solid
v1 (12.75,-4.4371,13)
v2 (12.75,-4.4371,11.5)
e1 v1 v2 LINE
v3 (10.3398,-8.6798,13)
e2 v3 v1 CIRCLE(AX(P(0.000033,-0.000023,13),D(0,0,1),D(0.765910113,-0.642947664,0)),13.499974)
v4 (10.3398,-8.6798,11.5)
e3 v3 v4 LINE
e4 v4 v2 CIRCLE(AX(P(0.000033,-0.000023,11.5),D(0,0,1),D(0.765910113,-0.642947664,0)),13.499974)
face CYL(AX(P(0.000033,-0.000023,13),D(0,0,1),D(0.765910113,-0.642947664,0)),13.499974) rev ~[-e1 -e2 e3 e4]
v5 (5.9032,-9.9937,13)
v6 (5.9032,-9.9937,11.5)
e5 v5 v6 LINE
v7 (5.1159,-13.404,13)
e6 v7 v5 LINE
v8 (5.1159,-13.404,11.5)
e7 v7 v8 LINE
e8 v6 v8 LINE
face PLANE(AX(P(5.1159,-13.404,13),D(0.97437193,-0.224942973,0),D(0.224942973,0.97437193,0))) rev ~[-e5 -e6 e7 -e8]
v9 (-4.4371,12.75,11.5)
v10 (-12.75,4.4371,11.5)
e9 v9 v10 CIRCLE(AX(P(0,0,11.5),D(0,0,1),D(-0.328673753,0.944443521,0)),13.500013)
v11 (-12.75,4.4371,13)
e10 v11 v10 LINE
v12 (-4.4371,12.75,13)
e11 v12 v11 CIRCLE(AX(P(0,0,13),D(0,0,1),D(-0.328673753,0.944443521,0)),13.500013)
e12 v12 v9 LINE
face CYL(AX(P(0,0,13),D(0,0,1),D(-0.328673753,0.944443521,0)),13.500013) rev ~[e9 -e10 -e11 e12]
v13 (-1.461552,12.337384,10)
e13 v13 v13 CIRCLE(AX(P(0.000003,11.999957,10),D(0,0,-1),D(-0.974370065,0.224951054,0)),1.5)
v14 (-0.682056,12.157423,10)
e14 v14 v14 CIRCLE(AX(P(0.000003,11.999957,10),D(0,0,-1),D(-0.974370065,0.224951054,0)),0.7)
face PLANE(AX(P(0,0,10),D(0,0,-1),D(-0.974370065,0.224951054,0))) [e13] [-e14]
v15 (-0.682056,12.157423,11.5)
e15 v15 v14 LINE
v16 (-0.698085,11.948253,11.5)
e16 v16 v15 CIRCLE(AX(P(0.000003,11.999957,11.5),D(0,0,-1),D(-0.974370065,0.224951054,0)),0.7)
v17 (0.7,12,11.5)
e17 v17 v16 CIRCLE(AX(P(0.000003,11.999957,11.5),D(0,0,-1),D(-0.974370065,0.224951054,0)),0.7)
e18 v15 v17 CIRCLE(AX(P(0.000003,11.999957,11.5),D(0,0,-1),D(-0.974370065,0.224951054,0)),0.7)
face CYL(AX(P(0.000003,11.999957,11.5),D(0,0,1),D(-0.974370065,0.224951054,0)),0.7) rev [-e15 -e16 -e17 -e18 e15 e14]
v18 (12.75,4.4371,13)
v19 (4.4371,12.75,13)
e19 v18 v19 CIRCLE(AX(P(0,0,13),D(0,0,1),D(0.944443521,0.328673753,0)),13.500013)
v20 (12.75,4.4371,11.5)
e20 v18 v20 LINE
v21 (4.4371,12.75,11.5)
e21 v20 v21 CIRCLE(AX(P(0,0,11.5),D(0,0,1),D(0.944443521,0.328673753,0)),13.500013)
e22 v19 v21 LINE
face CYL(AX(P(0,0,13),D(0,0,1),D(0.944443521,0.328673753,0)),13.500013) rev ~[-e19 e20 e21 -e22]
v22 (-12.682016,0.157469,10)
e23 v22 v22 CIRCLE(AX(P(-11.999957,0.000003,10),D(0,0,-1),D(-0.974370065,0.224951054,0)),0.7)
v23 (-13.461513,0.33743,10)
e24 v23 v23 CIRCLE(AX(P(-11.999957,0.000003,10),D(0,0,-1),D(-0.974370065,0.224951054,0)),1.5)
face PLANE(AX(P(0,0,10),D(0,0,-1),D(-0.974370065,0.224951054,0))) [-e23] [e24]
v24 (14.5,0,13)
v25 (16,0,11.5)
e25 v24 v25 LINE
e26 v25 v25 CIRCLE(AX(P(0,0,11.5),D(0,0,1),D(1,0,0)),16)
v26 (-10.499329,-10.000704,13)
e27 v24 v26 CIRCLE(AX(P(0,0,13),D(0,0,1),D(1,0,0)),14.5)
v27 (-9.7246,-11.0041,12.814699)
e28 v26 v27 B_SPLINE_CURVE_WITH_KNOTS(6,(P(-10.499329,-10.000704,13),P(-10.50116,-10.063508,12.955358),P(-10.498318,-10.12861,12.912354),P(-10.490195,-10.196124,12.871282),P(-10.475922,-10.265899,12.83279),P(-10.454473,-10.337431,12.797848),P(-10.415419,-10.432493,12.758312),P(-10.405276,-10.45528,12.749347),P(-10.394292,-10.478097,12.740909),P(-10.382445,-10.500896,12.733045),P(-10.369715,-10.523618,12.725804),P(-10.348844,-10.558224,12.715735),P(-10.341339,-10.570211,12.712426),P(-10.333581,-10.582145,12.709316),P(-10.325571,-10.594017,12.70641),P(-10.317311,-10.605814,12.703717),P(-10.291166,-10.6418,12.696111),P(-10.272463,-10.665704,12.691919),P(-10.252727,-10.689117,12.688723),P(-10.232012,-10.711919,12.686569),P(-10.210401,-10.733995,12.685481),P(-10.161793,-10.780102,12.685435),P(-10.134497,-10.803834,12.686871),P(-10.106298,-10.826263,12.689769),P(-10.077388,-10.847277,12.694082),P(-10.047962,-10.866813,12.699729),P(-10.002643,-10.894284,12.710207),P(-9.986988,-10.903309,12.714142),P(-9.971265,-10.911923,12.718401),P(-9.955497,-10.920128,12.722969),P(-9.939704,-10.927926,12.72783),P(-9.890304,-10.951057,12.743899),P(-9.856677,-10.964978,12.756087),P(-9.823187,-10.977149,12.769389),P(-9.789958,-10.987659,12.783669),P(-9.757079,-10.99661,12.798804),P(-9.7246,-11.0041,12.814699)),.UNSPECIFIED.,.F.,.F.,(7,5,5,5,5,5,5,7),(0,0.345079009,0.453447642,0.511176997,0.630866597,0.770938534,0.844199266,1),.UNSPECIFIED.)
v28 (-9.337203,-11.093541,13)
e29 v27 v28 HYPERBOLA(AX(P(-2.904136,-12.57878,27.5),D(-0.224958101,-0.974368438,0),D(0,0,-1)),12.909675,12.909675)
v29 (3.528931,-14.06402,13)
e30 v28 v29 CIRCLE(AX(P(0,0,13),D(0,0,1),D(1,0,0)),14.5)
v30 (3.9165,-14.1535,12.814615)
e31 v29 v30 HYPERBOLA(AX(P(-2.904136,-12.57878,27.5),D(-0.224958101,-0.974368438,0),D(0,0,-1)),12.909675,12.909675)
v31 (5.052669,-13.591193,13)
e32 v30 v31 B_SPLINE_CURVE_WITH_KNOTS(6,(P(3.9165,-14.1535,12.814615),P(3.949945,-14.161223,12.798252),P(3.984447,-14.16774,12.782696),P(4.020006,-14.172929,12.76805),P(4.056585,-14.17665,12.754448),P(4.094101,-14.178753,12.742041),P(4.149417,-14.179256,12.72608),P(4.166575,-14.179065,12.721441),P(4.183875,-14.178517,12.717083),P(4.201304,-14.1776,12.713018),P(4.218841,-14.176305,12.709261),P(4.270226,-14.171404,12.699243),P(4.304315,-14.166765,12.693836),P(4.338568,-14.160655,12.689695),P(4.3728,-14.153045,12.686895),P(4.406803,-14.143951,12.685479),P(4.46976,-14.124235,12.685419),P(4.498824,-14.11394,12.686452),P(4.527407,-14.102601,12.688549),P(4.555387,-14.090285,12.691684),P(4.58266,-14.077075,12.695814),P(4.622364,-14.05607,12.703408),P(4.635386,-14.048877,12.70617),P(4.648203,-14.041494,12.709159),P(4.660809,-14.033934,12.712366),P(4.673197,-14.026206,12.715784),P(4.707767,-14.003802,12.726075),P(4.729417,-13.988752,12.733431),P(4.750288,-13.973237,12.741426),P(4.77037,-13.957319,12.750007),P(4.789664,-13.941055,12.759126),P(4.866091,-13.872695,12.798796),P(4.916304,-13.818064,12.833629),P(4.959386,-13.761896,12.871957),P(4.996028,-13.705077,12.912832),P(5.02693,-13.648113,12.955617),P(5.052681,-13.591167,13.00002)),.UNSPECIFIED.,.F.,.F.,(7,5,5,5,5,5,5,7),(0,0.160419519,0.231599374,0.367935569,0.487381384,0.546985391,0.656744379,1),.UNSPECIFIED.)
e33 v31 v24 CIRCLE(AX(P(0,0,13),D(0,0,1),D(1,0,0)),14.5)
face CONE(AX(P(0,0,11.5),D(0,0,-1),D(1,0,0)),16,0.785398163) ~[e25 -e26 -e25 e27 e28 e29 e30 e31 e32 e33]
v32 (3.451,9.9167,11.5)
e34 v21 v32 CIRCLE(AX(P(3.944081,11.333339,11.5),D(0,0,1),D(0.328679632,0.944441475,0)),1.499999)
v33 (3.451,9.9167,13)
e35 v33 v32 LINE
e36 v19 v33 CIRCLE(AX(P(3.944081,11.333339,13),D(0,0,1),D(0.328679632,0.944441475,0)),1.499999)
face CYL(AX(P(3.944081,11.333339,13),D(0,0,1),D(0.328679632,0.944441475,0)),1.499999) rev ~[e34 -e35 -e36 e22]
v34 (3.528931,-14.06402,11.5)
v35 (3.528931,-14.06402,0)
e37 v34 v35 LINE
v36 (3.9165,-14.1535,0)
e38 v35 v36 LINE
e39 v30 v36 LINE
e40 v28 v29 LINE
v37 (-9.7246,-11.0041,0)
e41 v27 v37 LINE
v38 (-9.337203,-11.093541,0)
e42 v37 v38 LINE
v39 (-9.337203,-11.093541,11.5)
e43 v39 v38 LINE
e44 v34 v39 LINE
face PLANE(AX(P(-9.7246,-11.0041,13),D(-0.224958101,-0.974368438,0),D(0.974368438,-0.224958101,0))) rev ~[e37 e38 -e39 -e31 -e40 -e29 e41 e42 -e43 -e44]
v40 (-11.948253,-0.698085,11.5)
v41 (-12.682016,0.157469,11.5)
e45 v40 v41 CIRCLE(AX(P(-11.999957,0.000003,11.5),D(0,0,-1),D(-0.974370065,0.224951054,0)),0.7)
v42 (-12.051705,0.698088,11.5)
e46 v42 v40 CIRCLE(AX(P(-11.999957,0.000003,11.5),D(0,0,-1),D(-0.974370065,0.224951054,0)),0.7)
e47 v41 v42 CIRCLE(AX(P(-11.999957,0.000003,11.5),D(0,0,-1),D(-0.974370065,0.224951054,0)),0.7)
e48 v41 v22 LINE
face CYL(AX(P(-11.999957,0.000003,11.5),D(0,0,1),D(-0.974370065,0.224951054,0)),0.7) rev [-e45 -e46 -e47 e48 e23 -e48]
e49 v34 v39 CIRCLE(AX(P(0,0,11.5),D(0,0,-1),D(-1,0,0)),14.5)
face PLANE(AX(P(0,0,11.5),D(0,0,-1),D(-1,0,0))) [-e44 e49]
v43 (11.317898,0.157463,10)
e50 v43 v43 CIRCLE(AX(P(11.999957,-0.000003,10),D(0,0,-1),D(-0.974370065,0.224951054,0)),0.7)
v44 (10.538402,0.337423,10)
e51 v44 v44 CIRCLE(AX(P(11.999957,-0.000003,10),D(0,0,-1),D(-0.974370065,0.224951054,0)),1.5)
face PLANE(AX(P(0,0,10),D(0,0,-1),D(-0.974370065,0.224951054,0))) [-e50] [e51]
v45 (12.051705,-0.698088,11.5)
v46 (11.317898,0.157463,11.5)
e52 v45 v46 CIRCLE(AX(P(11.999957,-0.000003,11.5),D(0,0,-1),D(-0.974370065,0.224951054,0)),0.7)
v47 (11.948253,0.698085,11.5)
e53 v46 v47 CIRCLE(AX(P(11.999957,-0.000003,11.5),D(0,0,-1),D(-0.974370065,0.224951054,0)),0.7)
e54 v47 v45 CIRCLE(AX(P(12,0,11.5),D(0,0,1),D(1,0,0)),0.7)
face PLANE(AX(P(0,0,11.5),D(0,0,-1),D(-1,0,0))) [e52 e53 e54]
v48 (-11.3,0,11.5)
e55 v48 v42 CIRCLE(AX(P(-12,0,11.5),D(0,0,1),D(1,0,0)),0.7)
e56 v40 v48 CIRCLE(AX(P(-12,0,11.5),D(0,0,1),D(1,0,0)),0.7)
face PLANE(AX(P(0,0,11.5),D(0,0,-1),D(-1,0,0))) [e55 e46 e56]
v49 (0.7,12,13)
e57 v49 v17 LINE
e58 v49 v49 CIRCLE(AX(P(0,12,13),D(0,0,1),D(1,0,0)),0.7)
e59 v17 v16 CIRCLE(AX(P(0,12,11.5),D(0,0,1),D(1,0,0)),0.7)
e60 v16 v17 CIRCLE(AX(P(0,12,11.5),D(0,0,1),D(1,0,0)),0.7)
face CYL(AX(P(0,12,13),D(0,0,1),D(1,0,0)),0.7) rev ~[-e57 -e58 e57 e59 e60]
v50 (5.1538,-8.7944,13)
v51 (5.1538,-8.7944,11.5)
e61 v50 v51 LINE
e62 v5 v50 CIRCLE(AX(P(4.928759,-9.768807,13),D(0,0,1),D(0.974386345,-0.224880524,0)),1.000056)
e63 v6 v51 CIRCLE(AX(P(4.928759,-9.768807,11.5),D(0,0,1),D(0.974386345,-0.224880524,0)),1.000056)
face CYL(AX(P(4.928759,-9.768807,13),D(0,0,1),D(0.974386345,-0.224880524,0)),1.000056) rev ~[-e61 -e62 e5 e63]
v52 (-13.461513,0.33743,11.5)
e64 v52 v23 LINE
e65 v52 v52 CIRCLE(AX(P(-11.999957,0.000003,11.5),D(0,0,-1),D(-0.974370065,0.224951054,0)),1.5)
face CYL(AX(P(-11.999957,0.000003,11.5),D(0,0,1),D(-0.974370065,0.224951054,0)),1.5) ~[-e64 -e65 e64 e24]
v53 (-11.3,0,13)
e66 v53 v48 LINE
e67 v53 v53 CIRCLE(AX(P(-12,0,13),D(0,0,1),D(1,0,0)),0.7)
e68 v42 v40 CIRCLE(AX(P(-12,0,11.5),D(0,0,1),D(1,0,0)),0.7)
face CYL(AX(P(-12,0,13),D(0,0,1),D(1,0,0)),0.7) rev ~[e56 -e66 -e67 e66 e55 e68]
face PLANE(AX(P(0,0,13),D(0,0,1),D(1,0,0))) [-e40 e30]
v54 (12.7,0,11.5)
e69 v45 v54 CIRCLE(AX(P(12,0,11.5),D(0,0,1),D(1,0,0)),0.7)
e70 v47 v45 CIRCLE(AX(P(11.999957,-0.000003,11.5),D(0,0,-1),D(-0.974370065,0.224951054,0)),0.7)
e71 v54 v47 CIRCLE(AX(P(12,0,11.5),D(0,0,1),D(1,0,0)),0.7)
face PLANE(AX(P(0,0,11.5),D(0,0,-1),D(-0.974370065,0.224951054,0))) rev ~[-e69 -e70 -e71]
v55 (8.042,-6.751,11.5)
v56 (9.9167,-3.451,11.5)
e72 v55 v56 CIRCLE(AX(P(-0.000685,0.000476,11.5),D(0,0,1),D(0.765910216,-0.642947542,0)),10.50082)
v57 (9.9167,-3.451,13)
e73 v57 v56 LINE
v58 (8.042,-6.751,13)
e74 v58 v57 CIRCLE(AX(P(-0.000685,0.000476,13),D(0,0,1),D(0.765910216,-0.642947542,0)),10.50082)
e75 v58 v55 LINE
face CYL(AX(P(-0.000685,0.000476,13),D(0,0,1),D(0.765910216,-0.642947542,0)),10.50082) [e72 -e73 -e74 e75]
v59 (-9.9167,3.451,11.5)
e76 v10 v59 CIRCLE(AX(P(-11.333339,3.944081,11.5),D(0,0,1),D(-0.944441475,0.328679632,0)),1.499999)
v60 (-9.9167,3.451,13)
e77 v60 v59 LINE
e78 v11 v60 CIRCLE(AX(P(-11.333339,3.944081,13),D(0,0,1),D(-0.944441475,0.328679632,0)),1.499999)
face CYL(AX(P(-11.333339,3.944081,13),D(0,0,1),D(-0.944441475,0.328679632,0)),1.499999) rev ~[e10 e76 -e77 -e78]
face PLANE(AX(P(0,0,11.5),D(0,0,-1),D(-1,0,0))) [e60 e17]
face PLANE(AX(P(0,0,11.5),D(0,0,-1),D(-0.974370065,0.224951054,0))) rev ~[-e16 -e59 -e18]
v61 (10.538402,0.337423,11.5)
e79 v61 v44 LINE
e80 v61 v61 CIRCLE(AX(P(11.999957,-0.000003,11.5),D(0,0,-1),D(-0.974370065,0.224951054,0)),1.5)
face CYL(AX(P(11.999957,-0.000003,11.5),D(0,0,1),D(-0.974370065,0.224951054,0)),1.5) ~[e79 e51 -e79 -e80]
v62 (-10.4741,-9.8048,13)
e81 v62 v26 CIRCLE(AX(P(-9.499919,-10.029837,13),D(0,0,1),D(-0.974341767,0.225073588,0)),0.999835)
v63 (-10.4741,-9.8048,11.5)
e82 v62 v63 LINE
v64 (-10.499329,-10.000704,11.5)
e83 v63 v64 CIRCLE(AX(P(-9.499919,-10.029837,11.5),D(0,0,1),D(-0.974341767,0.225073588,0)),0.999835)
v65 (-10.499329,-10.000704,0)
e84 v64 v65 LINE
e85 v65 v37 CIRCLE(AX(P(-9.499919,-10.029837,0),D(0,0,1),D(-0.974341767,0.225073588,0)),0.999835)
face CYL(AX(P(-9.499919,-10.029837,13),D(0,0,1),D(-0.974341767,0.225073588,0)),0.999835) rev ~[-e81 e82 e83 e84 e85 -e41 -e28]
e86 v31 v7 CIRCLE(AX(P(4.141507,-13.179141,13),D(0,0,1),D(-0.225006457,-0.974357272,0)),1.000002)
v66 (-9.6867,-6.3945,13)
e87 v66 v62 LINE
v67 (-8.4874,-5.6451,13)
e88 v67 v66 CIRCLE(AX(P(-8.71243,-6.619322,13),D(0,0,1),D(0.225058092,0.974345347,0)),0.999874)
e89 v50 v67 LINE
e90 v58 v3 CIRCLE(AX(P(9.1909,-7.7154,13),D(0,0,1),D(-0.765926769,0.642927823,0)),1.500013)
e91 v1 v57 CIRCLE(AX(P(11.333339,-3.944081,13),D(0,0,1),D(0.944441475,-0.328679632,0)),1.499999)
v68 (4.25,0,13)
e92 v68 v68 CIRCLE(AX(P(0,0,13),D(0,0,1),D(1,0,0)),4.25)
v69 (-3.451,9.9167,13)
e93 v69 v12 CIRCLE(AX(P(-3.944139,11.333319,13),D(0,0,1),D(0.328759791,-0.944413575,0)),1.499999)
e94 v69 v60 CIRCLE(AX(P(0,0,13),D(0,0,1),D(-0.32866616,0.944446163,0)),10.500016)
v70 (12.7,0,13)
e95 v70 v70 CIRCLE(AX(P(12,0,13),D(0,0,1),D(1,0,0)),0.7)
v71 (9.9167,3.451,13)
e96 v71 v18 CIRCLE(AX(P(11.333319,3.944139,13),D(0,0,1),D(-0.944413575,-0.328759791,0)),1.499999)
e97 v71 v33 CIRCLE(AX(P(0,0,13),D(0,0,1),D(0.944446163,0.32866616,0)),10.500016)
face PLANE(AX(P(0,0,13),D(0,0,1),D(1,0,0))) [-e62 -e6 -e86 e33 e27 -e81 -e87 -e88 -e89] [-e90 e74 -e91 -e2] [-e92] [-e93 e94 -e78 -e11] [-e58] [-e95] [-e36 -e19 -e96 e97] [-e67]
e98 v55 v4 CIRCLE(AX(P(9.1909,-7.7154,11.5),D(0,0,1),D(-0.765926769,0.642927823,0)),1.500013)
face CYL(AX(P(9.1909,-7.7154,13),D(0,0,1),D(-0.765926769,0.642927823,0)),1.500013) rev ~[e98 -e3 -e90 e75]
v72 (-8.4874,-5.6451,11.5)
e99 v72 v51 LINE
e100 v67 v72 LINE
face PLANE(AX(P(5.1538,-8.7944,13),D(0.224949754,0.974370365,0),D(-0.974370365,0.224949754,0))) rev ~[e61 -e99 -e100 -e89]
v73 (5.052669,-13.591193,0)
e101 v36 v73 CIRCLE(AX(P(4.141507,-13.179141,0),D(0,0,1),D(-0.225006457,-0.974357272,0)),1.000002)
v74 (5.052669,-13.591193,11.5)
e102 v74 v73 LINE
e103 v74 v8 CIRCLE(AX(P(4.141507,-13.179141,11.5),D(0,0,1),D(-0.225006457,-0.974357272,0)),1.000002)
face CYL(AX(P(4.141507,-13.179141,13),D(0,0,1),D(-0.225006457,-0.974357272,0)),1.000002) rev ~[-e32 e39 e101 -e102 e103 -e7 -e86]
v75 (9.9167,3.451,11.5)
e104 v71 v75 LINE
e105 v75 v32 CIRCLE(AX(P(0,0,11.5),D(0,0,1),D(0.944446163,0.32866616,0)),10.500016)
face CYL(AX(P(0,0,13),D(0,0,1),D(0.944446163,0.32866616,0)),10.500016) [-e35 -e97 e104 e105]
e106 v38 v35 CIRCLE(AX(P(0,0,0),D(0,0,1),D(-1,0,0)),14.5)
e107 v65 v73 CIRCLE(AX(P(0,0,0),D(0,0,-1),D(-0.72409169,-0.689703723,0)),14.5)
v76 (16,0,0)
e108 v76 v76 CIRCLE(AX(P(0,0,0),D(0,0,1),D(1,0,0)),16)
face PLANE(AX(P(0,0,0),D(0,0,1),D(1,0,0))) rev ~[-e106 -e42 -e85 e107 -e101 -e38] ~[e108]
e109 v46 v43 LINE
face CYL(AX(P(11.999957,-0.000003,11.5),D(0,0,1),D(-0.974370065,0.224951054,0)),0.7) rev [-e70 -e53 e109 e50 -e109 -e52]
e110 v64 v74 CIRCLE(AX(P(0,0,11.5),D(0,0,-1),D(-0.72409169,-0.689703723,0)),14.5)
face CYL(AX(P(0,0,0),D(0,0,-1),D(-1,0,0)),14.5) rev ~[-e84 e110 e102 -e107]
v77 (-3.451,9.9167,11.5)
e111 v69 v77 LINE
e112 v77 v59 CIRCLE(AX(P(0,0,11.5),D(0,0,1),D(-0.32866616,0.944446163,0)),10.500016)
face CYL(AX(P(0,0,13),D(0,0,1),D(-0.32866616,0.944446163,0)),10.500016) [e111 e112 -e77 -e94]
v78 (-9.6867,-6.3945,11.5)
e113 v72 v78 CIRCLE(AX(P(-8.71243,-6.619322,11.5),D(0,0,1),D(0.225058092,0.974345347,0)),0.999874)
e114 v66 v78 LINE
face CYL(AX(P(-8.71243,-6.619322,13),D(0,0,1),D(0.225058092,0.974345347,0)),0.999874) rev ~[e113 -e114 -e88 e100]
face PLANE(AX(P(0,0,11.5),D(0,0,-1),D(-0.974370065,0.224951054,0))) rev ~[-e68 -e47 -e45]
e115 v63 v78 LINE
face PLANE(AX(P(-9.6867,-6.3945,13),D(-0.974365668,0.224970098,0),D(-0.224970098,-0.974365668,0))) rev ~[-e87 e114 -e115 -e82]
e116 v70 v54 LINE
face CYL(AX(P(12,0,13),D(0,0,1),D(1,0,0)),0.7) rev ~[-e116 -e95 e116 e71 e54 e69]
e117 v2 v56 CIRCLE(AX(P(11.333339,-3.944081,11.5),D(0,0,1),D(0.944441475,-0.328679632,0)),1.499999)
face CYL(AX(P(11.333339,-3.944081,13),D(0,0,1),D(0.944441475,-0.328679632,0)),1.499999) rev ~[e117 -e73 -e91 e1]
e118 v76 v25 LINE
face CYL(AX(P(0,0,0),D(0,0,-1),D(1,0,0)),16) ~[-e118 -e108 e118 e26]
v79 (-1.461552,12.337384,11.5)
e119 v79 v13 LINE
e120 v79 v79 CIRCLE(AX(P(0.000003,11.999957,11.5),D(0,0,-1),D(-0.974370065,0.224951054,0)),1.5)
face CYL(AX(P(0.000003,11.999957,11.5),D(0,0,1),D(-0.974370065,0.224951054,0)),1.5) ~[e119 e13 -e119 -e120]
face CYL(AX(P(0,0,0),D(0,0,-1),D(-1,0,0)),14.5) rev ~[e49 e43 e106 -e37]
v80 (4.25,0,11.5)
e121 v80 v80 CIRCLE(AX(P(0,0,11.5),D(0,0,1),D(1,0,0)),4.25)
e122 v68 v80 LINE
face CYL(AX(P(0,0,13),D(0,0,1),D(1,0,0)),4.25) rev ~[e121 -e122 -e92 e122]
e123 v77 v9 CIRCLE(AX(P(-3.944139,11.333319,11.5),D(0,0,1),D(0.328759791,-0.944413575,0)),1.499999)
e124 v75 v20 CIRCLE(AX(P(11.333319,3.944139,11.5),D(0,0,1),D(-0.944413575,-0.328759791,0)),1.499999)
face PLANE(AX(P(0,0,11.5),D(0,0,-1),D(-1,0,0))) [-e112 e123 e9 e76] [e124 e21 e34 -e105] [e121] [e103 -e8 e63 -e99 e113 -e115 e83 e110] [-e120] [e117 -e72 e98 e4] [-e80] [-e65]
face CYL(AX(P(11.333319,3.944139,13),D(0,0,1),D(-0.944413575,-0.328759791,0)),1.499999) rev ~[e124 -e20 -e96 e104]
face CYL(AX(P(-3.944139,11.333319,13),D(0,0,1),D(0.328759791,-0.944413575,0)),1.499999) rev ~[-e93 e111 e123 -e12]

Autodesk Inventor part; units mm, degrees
ref_plane "YZ Plane" through (0, 0, 0) normal (1, 0, 0) x (0, 1, 0)
ref_plane "XZ Plane" through (0, 0, 0) normal (0, 1, 0) x (-1, 0, 0)
sketch "Sketch1" plane through (0, 0, 0) normal (0, 0, 1) x (1, 0, 0)
  circle A0 centre (0, 0) radius 16
  dimension "d0" = 32
extrude "Extrusion1" add sketch "Sketch1" along normal blind 13
sketch "Sketch2" plane through (0, 0, 0) normal (0, 0, -1) x (-1, 0, 0)
  circle A0 centre (0, 0) radius 16 projected
  circle A1 centre (0, 0) radius 14.5
  dimension "d3" = 1.5
  dimension "d11" = 29
ref_plane "Work Plane1" through (0, 0, 11.5) normal (0, 0, 1) x (1, 0, 0)
extrude "Extrusion2" cut sketch "Sketch2" against normal up to surface (11.5 mm away) contours A1
sketch "Sketch3" plane through (0, 0, 13) normal (0, 0, 1) x (1, 0, 0)
  circle A0 centre (0, 0) radius 4.25
  dimension "d7" = 8.5
extrude "Extrusion3" cut sketch "Sketch3" against normal through all
sketch "Sketch4" plane through (0, 0, 13) normal (0, 0, 1) x (1, 0, 0)
  circle A0 centre (0, 0) radius 4.25 construction
  circle A1 centre (0, 0) radius 16 construction
  line L0 (0, 0) -> (0, 16) construction
  circle A2 centre (0, 0) radius 16 projected
  line L1 (0, 0) -> (-16, 0) construction
  circle A3 centre (-12, 0) radius 0.7
  circle A4 centre (0, 12) radius 0.7
  circle A5 centre (12, 0) radius 0.7
  dimension "d10" = 12
  dimension "d12" = 12
  dimension "d13" = 1.4
extrude "Extrusion4" cut sketch "Sketch4" against normal through all contours A3 | A4 | A5
sketch "Sketch5" plane through (0, 0, 13) normal (0, 0, 1) x (1, 0, 0)
  circle A0 centre (0, 0) radius 14.5 projected
  line L0 (-10.0993, -10.4045) -> (4.5162, -13.7787)
  line L1 (0, 0) -> (-2.7916, -12.0916) construction
  circle A1 centre (-12, 0) radius 0.7 construction
  line L2 (0, 0) -> (-12, 0) construction
  line L3 (-10.0993, -10.4045) -> (-9.0871, -6.0198)
  line L4 (-9.0871, -6.0198) -> (5.5285, -9.3941)
  line L5 (4.5162, -13.7787) -> (5.5285, -9.3941)
  dimension "d17" = 77
  dimension "d18" = 4.5
  dimension "d19" = 15
extrude "Extrusion5" cut sketch "Sketch5" against normal through all contours L3 L4 L5 L0
fillet "Fillet1" radius 0.5 4 edges at (-9.0871, -6.0198, 12.25) (5.5285, -9.3941, 12.25) (-10.0993, -10.4045, 12.25) (4.5162, -13.7787, 12.25)
sketch "Sketch6" plane through (0, 0, 13) normal (0, 0, 1) x (1, 0, 0)
  circle A0 centre (0, 0) radius 16 projected
  line L0 (-3.0691, 15.7029) -> (-2.234, 9.7613) construction
  line L1 (-2.234, 9.7613) -> (-4.2426, 4.2426) construction
  line L2 (0, 0) -> (-11.3137, 11.3137) construction
  circle A1 centre (0, 12) radius 0.7 construction
  line L3 (0, 0) -> (0, 12) construction
  line L4 (-15.7029, 3.0691) -> (-9.7613, 2.234) construction
  line L5 (-9.7613, 2.234) -> (-4.2426, 4.2426) construction
  line L6 (3.0691, 15.7029) -> (2.234, 9.7613) construction
  line L7 (2.234, 9.7613) -> (4.2426, 4.2426) construction
  line L8 (9.7613, 2.234) -> (4.2426, 4.2426) construction
  line L9 (15.7029, 3.0691) -> (9.7613, 2.234) construction
  line L10 (-15.5637, 4.0593) -> (-9.869, 3.259)
  line L11 (-9.869, 3.259) -> (-5.0228, 5.0228)
  line L12 (-5.0228, 5.0228) -> (-3.259, 9.869)
  line L13 (-3.259, 9.869) -> (-4.0593, 15.5637)
  line L14 (4.0593, 15.5637) -> (3.259, 9.869)
  line L15 (3.259, 9.869) -> (5.0228, 5.0228)
  line L16 (5.0228, 5.0228) -> (9.869, 3.259)
  line L17 (9.869, 3.259) -> (15.5637, 4.0593)
  point P0 (-4.0475, 15.4796)
  point P1 (-15.4796, 4.0475)
  point P2 (15.4796, 4.0475)
  point P3 (4.0475, 15.4796)
  dimension "d23" = 45
  dimension "d24" = 6
  dimension "d25" = 8
  dimension "d26" = 20
  dimension "d27" = 6
  dimension "d36" = 1
  dimension "d37" = 1
extrude "Extrusion6" [suppressed]
chamfer "Chamfer1" distance 1.5 angle 45 1 edges at (-16, 0, 13)
sketch "Sketch8" plane through (0, 0, 13) normal (0, 0, 1) x (1, 0, 0)
  line L0 (-8.5999, -6.1323) -> (5.0413, -9.2816) construction
  arc A0 (-8.5999, -6.1323) -> (-9.1995, -6.507) centre (-8.7124, -6.6195) ccw construction
  line L1 (-9.9869, -9.9173) -> (-9.1995, -6.507) construction
  arc A1 (-9.9869, -9.9173) -> (-9.6122, -10.517) centre (-9.4997, -10.0298) ccw construction
  line L2 (4.029, -13.6663) -> (-9.6122, -10.517) construction
  arc A2 (4.029, -13.6663) -> (4.6287, -13.2916) centre (4.1415, -13.1791) ccw construction
  line L3 (5.416, -9.8813) -> (4.6287, -13.2916) construction
  arc A3 (5.416, -9.8813) -> (5.0413, -9.2816) centre (4.9288, -9.7688) ccw construction
  line L4 (5.1538, -8.7944) -> (-8.4874, -5.6451)
  arc A4 (-8.4874, -5.6451) -> (-9.6867, -6.3945) centre (-8.7124, -6.6195) ccw
  line L5 (-9.6867, -6.3945) -> (-10.4741, -9.8048)
  arc A5 (-10.4741, -9.8048) -> (-9.7246, -11.0041) centre (-9.4997, -10.0298) ccw
  line L6 (-9.7246, -11.0041) -> (3.9165, -14.1535)
  arc A6 (3.9165, -14.1535) -> (5.1159, -13.404) centre (4.1415, -13.1791) ccw
  line L7 (5.1159, -13.404) -> (5.9032, -9.9937)
  arc A7 (5.9032, -9.9937) -> (5.1538, -8.7944) centre (4.9288, -9.7688) ccw
  point P0 (0, 0)
  dimension "d38" = 0.5
extrude "Extrusion7" cut sketch "Sketch8" against normal through all
sketch "Sketch10" plane through (0, 0, 13) normal (0, 0, 1) x (1, 0, 0)
  arc A0 (-3.9441, 11.3333) -> (-11.3333, 3.9441) centre (0, 0) ccw construction
  arc A1 (-4.4371, 12.75) -> (-12.75, 4.4371) centre (0, 0) ccw
  arc A2 (-3.451, 9.9167) -> (-9.9167, 3.451) centre (0, 0) ccw
  arc A3 (-3.451, 9.9167) -> (-4.4371, 12.75) centre (-3.9441, 11.3333) ccw
  arc A4 (-12.75, 4.4371) -> (-9.9167, 3.451) centre (-11.3333, 3.9441) ccw
  arc A5 (11.3333, 3.9441) -> (3.9441, 11.3333) centre (0, 0) ccw construction
  arc A6 (12.75, 4.4371) -> (4.4371, 12.75) centre (0, 0) ccw
  arc A7 (9.9167, 3.451) -> (3.451, 9.9167) centre (0, 0) ccw
  arc A8 (9.9167, 3.451) -> (12.75, 4.4371) centre (11.3333, 3.9441) ccw
  arc A9 (4.4371, 12.75) -> (3.451, 9.9167) centre (3.9441, 11.3333) ccw
  arc A10 (9.1909, -7.7154) -> (11.3333, -3.9441) centre (0, 0) ccw construction
  arc A11 (10.3398, -8.6798) -> (12.75, -4.4371) centre (0, 0) ccw
  arc A12 (8.042, -6.751) -> (9.9167, -3.451) centre (0, 0) ccw
  arc A13 (8.042, -6.751) -> (10.3398, -8.6798) centre (9.1909, -7.7154) ccw
  arc A14 (12.75, -4.4371) -> (9.9167, -3.451) centre (11.3333, -3.9441) ccw
  circle A15 centre (0, 0) radius 12 construction
  circle A16 centre (0, 12) radius 0.7 projected
  circle A17 centre (12, 0) radius 0.7 projected
  circle A18 centre (-12, 0) radius 0.7 projected
  point P0 (5.9032, -9.9937)
  dimension "d44" = 24
  dimension "d45" = 1.5
  dimension "d46" = 4
  dimension "d47" = 4
  dimension "d48" = 4
  dimension "d49" = 4
  dimension "d50" = 4
  dimension "d51" = 4
extrude "Extrusion9" cut sketch "Sketch10" against normal through all contours A3 A2 A4 A1 | A8 A7 A9 A6 | A13 A12 A14 A11
sketch "Sketch11" plane through (0, 0, 11.5) normal (0, 0, -1) x (-0.9744, 0.225, 0)
  circle A0 centre (2.6994, 11.6924) radius 0.7 projected
  circle A1 centre (11.6924, -2.6994) radius 0.7 projected
  circle A2 centre (-11.6924, 2.6994) radius 0.7 projected
  circle A3 centre (2.6994, 11.6924) radius 1.5
  circle A4 centre (-11.6924, 2.6994) radius 1.5
  circle A5 centre (11.6924, -2.6994) radius 1.5
  point P0 (0, 0)
  dimension "d54" = 3
  dimension "d55" = 3
  dimension "d56" = 3
extrude "Extrusion10" add sketch "Sketch11" along normal blind 1.5
equation "\"d12\" = d10"
equation "\"d47\" = d46"
equation "\"d48\" = d46"
equation "\"d49\" = d46"
equation "\"d50\" = d46"
equation "\"d51\" = d46"
properties part number "PotCover-Shorter"
